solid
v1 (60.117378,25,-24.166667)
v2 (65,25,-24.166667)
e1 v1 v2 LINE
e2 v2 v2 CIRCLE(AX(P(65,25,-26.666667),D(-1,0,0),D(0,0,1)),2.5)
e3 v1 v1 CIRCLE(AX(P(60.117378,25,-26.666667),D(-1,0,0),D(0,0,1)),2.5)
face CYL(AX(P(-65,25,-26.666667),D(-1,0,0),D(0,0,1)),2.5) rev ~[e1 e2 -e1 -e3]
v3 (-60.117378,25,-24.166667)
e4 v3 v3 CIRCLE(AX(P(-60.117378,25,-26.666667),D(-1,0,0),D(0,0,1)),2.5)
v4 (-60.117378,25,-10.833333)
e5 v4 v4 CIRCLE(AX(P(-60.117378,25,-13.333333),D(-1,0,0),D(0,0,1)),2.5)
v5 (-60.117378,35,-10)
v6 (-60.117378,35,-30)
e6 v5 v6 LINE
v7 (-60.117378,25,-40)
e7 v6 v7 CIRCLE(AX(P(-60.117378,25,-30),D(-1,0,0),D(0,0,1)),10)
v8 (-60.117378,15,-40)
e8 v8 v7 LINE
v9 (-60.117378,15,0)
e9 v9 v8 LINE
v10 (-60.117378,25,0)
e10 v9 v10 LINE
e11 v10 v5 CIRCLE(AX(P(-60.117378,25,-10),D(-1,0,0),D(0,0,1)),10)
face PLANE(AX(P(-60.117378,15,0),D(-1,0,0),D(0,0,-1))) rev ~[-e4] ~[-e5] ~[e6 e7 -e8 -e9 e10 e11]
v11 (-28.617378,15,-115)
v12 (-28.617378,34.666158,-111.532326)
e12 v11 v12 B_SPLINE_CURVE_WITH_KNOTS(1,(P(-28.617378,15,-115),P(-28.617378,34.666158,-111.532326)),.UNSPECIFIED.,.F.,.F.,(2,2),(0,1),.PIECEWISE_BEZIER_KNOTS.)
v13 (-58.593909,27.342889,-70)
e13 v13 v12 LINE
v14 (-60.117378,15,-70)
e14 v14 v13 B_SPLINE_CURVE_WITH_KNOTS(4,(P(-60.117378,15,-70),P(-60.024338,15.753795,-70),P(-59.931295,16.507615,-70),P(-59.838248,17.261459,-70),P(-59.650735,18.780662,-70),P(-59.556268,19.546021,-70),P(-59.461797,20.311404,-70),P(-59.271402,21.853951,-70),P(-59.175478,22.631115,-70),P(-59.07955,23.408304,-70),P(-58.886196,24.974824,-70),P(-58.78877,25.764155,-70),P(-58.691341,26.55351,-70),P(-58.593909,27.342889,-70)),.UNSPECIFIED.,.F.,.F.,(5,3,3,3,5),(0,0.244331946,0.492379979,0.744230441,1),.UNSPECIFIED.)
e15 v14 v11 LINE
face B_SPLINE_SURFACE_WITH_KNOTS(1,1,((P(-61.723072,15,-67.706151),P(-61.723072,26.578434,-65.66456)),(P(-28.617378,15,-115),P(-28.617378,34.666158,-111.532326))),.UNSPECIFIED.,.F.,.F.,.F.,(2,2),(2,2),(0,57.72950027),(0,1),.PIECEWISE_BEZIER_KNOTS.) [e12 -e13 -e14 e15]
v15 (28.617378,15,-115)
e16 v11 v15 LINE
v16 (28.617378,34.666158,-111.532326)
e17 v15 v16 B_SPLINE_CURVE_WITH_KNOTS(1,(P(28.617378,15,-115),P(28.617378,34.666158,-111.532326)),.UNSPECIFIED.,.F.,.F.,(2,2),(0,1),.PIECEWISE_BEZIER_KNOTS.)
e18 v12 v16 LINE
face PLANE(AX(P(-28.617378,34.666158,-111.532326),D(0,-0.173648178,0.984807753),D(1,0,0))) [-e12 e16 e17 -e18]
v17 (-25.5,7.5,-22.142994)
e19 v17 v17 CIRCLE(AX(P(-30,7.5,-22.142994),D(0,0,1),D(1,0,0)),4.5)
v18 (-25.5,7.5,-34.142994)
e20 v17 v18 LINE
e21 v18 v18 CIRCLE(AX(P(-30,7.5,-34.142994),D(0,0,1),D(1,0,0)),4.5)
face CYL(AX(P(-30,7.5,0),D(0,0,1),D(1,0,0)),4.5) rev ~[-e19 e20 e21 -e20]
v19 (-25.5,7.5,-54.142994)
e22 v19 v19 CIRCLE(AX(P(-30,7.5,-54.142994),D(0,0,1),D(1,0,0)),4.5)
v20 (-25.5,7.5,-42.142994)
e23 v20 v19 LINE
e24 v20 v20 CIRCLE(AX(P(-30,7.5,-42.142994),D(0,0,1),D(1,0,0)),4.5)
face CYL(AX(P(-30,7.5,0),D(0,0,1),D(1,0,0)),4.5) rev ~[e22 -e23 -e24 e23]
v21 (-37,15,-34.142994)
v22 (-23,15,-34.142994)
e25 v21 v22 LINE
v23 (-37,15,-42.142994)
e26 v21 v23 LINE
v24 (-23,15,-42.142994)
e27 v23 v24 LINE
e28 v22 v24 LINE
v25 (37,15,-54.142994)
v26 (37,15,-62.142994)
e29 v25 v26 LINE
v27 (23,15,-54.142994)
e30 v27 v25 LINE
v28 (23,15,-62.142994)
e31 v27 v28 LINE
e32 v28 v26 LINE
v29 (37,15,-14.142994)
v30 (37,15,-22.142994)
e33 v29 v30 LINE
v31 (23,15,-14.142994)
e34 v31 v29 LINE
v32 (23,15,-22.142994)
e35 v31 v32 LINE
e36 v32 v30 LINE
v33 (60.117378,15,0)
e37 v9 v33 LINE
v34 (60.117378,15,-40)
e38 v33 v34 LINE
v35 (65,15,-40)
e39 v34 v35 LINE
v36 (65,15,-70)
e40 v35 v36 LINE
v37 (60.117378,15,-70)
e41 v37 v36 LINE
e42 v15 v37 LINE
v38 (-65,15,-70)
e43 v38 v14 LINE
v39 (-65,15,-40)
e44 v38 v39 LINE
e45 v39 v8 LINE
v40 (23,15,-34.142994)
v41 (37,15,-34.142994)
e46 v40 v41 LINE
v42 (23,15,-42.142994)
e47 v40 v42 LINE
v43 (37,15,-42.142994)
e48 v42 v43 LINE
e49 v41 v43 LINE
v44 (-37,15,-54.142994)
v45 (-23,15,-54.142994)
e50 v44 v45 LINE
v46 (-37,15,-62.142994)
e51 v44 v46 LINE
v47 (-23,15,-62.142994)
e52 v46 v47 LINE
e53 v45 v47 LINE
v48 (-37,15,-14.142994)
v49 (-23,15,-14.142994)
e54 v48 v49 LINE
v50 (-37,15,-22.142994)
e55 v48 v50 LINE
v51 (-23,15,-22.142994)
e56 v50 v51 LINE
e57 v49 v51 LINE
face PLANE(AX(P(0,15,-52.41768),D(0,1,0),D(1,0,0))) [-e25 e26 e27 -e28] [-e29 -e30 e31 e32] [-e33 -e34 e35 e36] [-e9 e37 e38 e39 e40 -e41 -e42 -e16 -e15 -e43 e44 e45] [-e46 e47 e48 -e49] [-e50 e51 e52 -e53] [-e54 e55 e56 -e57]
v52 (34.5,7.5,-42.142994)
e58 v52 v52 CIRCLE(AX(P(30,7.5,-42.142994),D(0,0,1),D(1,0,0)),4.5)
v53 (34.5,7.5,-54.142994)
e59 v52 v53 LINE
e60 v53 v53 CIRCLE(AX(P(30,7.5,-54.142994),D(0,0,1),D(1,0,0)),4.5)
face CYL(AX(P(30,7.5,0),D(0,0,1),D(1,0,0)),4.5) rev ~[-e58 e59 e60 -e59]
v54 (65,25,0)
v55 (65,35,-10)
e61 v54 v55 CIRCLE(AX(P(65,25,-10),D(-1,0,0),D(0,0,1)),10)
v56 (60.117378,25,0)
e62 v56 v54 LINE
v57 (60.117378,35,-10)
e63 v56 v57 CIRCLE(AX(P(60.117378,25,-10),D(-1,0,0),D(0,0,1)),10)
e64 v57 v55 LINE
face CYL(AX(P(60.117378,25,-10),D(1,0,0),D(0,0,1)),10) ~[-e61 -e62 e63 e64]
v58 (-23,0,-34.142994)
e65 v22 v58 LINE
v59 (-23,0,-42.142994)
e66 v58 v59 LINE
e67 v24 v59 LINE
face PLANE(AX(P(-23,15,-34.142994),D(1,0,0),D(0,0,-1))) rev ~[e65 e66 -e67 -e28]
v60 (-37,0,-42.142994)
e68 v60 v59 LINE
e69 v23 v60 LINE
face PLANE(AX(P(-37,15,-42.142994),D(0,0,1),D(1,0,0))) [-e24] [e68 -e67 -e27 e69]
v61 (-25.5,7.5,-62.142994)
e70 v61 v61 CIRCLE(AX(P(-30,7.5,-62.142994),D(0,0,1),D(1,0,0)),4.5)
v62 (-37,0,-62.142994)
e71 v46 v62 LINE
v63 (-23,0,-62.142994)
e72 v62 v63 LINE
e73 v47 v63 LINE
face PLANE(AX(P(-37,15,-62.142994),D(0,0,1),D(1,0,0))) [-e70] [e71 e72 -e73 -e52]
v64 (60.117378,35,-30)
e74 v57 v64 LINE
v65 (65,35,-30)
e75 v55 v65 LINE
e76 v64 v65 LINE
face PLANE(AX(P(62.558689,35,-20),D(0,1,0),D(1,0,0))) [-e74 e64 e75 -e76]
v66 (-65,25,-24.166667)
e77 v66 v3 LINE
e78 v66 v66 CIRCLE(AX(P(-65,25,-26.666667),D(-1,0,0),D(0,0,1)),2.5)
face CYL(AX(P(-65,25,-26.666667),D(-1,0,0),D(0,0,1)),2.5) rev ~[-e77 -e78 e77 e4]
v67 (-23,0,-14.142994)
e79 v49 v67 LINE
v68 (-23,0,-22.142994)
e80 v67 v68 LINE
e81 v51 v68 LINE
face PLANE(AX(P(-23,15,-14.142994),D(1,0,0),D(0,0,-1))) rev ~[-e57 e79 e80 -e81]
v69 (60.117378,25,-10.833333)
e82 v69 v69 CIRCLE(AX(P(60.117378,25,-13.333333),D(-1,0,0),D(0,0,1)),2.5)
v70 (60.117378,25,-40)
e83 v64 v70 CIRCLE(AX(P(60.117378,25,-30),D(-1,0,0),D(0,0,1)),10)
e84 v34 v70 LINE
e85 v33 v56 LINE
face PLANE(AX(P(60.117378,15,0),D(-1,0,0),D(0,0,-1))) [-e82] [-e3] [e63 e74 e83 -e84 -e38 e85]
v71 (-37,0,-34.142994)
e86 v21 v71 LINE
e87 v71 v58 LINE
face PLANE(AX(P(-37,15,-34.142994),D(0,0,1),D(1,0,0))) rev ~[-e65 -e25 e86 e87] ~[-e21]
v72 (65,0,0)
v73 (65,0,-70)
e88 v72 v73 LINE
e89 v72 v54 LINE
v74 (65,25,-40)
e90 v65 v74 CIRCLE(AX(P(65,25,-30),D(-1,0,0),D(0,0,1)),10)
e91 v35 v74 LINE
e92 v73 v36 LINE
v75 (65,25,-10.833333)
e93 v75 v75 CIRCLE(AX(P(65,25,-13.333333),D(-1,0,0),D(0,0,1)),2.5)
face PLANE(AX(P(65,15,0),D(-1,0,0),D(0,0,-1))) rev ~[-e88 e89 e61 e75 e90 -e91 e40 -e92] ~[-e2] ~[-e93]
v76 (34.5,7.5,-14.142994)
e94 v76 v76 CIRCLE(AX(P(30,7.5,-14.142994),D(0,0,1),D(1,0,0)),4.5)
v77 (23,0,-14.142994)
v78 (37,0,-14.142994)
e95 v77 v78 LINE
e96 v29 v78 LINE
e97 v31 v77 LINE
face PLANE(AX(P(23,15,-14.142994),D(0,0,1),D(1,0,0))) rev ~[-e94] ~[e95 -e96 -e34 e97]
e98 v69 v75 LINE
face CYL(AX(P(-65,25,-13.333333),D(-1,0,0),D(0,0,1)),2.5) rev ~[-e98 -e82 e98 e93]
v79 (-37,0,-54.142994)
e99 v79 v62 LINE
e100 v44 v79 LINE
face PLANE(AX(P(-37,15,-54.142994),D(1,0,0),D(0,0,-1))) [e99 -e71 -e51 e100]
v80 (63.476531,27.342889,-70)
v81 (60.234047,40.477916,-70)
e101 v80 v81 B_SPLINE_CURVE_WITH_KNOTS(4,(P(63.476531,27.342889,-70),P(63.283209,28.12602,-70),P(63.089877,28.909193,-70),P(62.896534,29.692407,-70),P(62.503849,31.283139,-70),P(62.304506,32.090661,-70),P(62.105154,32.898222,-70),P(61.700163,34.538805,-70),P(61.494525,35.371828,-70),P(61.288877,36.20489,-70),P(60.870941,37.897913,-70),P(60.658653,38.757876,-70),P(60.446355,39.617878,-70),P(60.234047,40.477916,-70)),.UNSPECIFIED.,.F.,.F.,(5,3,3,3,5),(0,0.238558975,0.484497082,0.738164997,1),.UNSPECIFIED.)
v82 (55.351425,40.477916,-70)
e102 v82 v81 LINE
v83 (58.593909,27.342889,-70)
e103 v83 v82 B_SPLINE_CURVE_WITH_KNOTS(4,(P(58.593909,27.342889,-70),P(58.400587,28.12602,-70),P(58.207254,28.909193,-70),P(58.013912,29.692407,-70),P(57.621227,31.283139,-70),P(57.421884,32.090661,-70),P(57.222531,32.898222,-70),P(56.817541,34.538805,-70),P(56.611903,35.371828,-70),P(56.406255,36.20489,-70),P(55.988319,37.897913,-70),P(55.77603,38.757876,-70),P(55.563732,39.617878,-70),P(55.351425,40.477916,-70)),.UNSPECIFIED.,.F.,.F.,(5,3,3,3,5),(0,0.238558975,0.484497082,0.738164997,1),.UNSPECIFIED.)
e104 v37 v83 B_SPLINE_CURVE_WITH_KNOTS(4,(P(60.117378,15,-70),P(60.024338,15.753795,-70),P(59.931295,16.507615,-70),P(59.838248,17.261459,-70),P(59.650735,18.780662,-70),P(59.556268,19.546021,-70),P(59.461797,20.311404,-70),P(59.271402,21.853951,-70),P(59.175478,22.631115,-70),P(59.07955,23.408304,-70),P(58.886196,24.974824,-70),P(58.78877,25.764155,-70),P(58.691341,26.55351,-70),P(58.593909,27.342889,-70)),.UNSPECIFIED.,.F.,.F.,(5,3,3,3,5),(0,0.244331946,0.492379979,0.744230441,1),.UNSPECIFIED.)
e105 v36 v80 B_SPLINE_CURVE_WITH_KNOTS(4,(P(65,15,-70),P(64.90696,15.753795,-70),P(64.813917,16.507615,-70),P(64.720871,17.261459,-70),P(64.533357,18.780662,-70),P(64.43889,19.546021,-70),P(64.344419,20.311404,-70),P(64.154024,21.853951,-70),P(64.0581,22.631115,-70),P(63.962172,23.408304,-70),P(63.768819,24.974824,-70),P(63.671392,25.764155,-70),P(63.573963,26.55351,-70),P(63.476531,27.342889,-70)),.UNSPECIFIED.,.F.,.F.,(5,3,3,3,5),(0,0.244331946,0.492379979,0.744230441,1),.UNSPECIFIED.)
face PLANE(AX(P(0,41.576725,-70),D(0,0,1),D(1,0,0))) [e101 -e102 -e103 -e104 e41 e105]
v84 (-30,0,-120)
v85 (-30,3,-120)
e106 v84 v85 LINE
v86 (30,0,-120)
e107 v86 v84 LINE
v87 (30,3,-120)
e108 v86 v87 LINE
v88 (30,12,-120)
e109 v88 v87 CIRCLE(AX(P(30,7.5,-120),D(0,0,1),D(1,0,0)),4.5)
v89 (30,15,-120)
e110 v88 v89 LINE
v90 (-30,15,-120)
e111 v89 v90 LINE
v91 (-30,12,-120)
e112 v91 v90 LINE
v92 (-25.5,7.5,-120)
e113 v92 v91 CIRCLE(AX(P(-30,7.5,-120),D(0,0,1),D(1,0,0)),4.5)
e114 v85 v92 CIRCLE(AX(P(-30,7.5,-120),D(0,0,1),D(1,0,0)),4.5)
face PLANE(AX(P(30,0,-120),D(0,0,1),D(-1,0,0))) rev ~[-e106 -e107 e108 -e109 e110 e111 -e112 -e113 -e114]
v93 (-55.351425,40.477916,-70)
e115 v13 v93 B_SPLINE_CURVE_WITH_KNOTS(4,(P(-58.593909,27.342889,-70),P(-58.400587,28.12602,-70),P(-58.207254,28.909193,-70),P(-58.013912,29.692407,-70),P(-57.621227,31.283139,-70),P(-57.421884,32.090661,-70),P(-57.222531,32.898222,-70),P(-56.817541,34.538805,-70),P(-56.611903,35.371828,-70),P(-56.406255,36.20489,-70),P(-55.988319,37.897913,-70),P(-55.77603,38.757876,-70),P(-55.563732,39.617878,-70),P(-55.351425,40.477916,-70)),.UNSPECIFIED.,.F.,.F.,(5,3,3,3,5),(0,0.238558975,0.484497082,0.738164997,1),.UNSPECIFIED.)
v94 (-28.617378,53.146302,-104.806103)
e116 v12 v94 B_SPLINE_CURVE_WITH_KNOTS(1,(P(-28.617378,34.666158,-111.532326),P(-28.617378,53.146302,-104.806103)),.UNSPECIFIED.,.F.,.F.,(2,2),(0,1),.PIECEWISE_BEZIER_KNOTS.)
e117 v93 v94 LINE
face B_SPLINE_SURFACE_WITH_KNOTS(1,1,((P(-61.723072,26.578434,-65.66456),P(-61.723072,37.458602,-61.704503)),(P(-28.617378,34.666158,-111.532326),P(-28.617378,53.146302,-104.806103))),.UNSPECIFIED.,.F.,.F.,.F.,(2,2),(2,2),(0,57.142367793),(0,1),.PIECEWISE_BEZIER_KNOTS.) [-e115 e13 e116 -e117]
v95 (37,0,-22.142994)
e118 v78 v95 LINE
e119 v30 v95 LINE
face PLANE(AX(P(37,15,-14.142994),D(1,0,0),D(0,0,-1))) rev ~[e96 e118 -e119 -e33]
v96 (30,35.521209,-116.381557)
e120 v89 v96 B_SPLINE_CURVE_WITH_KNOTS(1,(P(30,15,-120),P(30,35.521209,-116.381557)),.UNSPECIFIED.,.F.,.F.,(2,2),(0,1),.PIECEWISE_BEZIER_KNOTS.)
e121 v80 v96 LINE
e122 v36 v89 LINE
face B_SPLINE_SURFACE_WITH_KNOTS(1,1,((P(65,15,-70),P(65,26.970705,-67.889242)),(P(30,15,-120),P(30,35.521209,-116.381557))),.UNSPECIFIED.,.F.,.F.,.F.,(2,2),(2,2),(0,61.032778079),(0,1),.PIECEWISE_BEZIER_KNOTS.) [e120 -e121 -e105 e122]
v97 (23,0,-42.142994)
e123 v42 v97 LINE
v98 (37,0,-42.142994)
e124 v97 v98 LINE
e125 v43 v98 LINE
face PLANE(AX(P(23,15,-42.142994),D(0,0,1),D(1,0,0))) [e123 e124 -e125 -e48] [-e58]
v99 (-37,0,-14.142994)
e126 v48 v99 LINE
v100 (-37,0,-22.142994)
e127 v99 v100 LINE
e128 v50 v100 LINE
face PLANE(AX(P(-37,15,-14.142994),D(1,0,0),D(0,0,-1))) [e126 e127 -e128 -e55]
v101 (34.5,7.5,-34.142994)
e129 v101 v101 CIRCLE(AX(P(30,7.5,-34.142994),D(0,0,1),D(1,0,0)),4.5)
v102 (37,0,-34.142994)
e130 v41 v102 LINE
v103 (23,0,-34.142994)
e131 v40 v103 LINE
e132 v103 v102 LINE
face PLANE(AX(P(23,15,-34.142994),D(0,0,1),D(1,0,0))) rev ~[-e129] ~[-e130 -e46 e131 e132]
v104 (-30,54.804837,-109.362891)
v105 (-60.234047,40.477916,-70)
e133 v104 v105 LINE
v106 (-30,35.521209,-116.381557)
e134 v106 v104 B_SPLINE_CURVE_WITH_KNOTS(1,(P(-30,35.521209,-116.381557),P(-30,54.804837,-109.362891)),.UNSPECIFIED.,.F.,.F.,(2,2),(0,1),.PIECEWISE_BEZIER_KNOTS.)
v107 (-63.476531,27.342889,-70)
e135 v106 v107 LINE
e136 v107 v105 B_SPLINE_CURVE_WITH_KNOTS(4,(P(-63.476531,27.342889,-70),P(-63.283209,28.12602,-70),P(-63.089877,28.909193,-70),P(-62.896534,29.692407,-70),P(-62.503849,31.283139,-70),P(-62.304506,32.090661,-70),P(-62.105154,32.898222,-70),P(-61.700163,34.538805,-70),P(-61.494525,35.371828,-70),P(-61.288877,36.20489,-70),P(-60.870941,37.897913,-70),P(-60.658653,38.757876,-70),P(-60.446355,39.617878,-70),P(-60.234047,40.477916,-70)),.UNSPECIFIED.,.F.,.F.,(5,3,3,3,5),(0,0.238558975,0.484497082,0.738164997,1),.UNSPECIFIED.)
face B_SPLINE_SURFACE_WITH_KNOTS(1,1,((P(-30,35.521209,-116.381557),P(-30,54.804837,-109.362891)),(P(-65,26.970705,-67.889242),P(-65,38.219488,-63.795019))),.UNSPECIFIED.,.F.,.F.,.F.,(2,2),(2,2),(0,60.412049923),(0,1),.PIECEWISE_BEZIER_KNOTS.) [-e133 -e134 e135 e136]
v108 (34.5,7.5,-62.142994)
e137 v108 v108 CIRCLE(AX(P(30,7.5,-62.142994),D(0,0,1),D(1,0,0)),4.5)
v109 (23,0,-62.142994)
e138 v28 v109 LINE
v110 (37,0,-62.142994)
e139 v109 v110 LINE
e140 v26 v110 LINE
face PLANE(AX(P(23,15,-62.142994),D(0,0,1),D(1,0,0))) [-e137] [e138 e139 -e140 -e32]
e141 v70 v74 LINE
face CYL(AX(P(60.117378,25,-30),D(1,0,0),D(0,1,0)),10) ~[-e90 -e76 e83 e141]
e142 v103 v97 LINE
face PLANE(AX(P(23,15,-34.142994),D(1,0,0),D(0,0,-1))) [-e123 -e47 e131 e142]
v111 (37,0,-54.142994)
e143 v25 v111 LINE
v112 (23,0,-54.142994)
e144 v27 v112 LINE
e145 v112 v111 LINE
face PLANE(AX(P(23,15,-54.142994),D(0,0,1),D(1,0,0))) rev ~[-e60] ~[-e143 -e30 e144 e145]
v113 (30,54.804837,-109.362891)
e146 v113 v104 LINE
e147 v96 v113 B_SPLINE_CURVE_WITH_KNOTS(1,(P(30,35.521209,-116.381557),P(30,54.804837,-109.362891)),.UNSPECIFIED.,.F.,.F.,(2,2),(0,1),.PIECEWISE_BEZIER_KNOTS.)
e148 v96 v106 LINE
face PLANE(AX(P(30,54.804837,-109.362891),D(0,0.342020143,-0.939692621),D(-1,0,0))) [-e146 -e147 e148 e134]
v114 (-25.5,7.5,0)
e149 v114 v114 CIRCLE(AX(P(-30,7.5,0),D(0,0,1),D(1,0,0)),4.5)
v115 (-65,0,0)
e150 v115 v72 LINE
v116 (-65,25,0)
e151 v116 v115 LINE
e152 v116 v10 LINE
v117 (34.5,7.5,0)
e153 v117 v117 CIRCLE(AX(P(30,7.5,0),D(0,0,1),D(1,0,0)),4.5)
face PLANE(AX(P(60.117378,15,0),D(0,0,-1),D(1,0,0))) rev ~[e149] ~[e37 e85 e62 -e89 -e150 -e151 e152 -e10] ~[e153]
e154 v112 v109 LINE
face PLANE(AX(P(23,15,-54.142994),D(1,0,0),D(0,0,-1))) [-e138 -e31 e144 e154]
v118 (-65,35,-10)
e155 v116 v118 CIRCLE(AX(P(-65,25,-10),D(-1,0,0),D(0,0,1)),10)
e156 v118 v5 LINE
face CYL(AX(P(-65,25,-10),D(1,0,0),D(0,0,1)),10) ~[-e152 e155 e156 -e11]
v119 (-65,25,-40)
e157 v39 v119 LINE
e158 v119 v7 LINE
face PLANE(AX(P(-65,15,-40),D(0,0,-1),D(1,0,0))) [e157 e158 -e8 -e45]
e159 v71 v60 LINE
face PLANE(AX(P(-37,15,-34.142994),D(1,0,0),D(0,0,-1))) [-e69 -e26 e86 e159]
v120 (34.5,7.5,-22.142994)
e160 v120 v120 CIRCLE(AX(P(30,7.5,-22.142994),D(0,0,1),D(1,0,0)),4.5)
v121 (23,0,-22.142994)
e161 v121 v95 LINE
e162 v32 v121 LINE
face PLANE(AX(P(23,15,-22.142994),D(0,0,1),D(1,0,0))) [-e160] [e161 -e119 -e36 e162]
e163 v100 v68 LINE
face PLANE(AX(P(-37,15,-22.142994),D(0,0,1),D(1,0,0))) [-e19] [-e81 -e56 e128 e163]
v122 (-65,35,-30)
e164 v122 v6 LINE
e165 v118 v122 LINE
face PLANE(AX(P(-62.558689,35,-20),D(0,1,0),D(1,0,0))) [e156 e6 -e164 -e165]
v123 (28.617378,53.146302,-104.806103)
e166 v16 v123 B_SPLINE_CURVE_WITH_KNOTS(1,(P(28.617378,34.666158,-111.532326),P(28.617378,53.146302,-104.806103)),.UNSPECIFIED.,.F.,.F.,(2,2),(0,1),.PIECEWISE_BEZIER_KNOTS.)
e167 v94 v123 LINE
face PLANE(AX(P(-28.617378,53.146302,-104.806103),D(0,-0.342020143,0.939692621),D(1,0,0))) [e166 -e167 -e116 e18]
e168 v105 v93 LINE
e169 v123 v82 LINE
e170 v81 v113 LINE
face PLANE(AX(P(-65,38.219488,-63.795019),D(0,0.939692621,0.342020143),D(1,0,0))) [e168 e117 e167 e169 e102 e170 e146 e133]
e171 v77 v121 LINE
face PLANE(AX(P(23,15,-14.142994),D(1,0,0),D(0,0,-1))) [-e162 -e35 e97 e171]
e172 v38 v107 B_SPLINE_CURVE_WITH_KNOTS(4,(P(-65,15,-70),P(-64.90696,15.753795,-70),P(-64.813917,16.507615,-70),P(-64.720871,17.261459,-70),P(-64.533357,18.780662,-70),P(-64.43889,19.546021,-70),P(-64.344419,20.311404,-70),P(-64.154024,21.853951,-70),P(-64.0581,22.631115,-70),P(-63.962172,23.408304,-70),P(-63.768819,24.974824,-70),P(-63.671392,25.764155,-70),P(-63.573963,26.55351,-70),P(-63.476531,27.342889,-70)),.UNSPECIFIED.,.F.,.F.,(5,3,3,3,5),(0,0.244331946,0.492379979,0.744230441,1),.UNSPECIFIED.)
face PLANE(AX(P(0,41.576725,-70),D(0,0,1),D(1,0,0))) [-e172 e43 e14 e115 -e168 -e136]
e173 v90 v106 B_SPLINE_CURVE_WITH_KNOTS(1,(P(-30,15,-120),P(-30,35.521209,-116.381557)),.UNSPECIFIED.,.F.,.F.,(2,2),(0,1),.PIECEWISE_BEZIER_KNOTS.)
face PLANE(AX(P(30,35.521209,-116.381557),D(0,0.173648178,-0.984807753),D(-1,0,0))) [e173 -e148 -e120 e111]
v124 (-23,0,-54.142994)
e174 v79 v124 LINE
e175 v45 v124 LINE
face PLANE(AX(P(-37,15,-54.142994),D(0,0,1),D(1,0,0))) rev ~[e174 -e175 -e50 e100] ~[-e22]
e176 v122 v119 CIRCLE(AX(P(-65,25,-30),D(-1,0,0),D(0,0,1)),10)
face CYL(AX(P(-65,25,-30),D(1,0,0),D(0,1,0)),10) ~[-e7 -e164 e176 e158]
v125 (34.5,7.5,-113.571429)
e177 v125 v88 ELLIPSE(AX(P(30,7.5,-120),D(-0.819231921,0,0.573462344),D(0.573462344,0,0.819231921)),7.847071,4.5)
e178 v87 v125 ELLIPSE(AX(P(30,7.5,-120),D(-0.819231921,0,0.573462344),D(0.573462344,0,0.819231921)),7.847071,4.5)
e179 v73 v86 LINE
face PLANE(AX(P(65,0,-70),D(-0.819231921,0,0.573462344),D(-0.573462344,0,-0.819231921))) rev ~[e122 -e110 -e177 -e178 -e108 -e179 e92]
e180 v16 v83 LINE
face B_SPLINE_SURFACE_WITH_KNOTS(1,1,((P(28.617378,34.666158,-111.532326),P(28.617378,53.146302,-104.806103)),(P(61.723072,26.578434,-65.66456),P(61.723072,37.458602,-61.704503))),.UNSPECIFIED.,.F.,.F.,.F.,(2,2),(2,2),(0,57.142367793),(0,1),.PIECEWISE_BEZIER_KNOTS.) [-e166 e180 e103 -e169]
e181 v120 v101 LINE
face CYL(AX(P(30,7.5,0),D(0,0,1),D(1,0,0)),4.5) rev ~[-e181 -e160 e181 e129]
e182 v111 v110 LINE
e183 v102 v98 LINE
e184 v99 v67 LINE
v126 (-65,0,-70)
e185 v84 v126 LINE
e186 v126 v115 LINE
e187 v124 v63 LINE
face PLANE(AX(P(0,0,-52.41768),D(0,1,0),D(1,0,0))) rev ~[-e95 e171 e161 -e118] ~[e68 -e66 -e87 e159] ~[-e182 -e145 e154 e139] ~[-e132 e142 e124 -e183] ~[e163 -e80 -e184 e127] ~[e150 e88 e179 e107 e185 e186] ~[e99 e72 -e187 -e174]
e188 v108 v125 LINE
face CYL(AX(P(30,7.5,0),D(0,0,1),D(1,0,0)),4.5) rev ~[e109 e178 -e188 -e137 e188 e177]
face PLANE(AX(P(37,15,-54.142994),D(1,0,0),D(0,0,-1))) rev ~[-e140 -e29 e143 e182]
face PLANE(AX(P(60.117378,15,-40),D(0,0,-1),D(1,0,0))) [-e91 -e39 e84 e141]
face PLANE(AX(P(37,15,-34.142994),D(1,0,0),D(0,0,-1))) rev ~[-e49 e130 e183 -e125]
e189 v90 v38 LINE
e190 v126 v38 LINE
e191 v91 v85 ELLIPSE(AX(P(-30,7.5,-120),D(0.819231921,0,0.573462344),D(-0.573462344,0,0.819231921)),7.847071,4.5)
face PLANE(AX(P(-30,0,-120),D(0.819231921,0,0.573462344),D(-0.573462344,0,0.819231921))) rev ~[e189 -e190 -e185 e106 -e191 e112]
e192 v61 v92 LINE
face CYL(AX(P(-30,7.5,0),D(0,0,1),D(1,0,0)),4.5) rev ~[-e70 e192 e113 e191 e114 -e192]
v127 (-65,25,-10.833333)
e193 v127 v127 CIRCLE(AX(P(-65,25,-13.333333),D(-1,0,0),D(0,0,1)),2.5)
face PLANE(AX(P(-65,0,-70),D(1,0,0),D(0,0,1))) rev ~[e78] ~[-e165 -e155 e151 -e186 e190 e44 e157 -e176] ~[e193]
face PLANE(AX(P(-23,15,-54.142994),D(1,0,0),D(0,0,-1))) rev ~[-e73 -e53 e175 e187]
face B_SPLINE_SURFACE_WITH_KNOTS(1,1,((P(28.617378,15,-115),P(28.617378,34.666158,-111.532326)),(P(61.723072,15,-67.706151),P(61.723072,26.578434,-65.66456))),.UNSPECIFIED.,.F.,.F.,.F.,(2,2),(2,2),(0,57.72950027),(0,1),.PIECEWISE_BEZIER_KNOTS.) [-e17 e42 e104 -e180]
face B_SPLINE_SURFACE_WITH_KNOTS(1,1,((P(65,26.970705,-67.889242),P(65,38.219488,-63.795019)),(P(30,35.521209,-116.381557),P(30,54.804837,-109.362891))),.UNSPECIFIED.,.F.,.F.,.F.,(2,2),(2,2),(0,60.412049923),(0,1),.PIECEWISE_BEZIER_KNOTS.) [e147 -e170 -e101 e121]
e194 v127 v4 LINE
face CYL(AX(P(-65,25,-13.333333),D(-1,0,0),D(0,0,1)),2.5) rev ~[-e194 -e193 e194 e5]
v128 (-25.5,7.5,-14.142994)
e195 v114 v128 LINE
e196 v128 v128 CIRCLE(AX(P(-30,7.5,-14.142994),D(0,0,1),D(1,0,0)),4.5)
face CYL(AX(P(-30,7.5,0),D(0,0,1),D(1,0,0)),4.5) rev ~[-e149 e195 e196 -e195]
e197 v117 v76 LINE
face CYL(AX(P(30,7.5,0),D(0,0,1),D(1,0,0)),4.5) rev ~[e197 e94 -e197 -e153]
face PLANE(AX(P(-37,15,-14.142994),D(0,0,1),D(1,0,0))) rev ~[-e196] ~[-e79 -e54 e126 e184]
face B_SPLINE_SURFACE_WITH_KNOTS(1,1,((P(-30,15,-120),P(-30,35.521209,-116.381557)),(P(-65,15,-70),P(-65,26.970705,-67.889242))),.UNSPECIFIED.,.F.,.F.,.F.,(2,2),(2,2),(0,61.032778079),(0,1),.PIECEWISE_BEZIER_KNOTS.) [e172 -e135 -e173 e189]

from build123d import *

# Parameters (mm, degrees)
EXTRUDE_1_DEPTH        = 15
SKETCH_4_W             = 130
SKETCH_4_H             = 53.153449772
CUT_EXTRUDE_1_DEPTH    = 70
SKETCH_5_W             = 4.882622246
SKETCH_5_H             = 40
EXTRUDE_2_DEPTH        = 20
SKETCH_6_R             = 2.5
CUT_EXTRUDE_2_DEPTH    = 186.212230178
FILLET_1_R             = 10
SKETCH_7_R             = 4.5
CUT_EXTRUDE_3_DEPTH    = 148.066550223
SKETCH_8_W             = 14
SKETCH_8_H             = 8
CUT_EXTRUDE_4_DEPTH    = 143.159857501
PATTERN_LINEAR_1_COUNT = 3
PATTERN_LINEAR_1_PITCH = 20


with BuildPart() as part:
    # 草图1 → 凸台-拉伸1 (new body)
    with BuildSketch(Plane(origin=(0, 0, 0), x_dir=(1, 0, 0), z_dir=(0, 1, 0))):
        Polygon((-65, 0), (65, 0), (65, 70), (30, 120), (-30, 120), (-65, 70), align=None)
    extrude(amount=EXTRUDE_1_DEPTH)

    # 草图2 → 放样1 section 0
    with BuildSketch(Plane(origin=(0, 15, 0), x_dir=(1, 0, 0), z_dir=(0, 1, 0))):
        with BuildLine():
            Line((-65, 70), (-61.723072318, 67.706150623))
            Line((-61.723072318, 67.706150623), (-28.617377754, 115))
            Line((-28.617377754, 115), (28.617377754, 115))
            Line((28.617377754, 115), (61.723072318, 67.706150623))
            Line((61.723072318, 67.706150623), (65, 70))
            Line((65, 70), (30, 120))
            Line((30, 120), (-30, 120))
            Line((-30, 120), (-65, 70))
        make_face()
    # 草图3 → 放样1 section 1
    with BuildSketch(Plane(origin=(0, 14.547694656, 2.565151075), x_dir=(1, 0, 0), z_dir=(0, 0.984807753012208, 0.17364817766693072))):
        with BuildLine():
            Line((-65, 71.541265376), (-61.723072318, 69.282264725))
            Line((-61.723072318, 69.282264725), (-28.617377754, 115.857614261))
            Line((-28.617377754, 115.857614261), (28.617377754, 115.857614261))
            Line((28.617377754, 115.857614261), (61.723072318, 69.282264725))
            Line((61.723072318, 69.282264725), (65, 71.541265376))
            Line((65, 71.541265376), (30, 120.781653026))
            Line((30, 120.781653026), (-30, 120.781653026))
            Line((-30, 120.781653026), (-65, 71.541265376))
        make_face()
    loft()

    # 草图9 → 放样2 section 0
    with BuildSketch(Plane(origin=(0, 14.547694656, 2.565151075), x_dir=(1, 0, 0), z_dir=(0, 0.9848077530122079, 0.17364817766693139))):
        with BuildLine():
            Line((-65, 71.541265376), (-61.723072318, 69.282264725))
            Line((-61.723072318, 69.282264725), (-28.617377754, 115.857614261))
            Line((-28.617377754, 115.857614261), (28.617377754, 115.857614261))
            Line((28.617377754, 115.857614261), (61.723072318, 69.282264725))
            Line((61.723072318, 69.282264725), (65, 71.541265376))
            Line((65, 71.541265376), (30, 120.781653026))
            Line((30, 120.781653026), (-30, 120.781653026))
            Line((-30, 120.781653026), (-65, 71.541265376))
        make_face()
    # 草图10 → 放样2 section 1
    with BuildSketch(Plane(origin=(0, 13.245333323, 4.820907073), x_dir=(1, 0, 0), z_dir=(0, 0.9396926207859081, 0.34202014332566943))):
        with BuildLine():
            Line((-65, 73.019543877), (-61.723072318, 70.794862522))
            Line((-61.723072318, 70.794862522), (-28.617377754, 116.662627845))
            Line((-28.617377754, 116.662627845), (28.617377754, 116.662627845))
            Line((28.617377754, 116.662627845), (61.723072318, 70.794862522))
            Line((61.723072318, 70.794862522), (65, 73.019543877))
            Line((65, 73.019543877), (30, 121.511859397))
            Line((30, 121.511859397), (-30, 121.511859397))
            Line((-30, 121.511859397), (-65, 73.019543877))
        make_face()
    loft()

    # 草图4 → 切除-拉伸1 (cut)
    with BuildSketch(Plane.XY):
        with Locations((0, 41.576724886)):
            Rectangle(SKETCH_4_W, SKETCH_4_H)
    extrude(amount=-CUT_EXTRUDE_1_DEPTH, mode=Mode.SUBTRACT)

    # 草图5 → 凸台-拉伸2 (add)
    with BuildSketch(Plane(origin=(0, 15, 0), x_dir=(1, 0, 0), z_dir=(0, 1, 0))):
        with Locations((62.558688877, 20)):
            Rectangle(SKETCH_5_W, SKETCH_5_H)
        with Locations((-62.558688877, 20)):
            Rectangle(SKETCH_5_W, SKETCH_5_H)
    extrude(amount=EXTRUDE_2_DEPTH)

    # 草图6 → 切除-拉伸2 (cut, through all)
    with BuildSketch(Plane.ZY.offset(65)):
        with Locations((-26.666666667, 25)):
            Circle(SKETCH_6_R)
        with Locations((-13.333333333, 25)):
            Circle(SKETCH_6_R)
    extrude(amount=-CUT_EXTRUDE_2_DEPTH, mode=Mode.SUBTRACT)

    # 圆角1
    fillet_1_edges = [part.edges().sort_by_distance(p)[0] for p in [
        (62.558688877, 35, 0),
        (62.558688877, 35, -40),
        (-62.558688877, 35, 0),
        (-62.558688877, 35, -40),
    ]]
    fillet(fillet_1_edges, radius=FILLET_1_R)

    # 草图7 → 切除-拉伸3 (cut, through all)
    with BuildSketch(Plane.XY):
        with Locations((-30, 7.5)):
            Circle(SKETCH_7_R)
        with Locations((30, 7.5)):
            Circle(SKETCH_7_R)
    extrude(amount=-CUT_EXTRUDE_3_DEPTH, mode=Mode.SUBTRACT)

    # 草图8 → 切除-拉伸4 (cut, through all)
    with BuildSketch(Plane(origin=(0, 15, 0), x_dir=(1, 0, 0), z_dir=(0, 1, 0))):
        with Locations((-30, 58.142993984)):
            Rectangle(SKETCH_8_W, SKETCH_8_H)
        with Locations((30, 58.142993984)):
            Rectangle(SKETCH_8_W, SKETCH_8_H)
    cut_extrude_4 = extrude(amount=-CUT_EXTRUDE_4_DEPTH, mode=Mode.SUBTRACT)

    # 阵列(线性)1: 切除-拉伸4 ×3
    with Locations(*[(0, 0, i * PATTERN_LINEAR_1_PITCH) for i in range(1, PATTERN_LINEAR_1_COUNT)]):
        add(cut_extrude_4, mode=Mode.SUBTRACT)


solid = part.part
